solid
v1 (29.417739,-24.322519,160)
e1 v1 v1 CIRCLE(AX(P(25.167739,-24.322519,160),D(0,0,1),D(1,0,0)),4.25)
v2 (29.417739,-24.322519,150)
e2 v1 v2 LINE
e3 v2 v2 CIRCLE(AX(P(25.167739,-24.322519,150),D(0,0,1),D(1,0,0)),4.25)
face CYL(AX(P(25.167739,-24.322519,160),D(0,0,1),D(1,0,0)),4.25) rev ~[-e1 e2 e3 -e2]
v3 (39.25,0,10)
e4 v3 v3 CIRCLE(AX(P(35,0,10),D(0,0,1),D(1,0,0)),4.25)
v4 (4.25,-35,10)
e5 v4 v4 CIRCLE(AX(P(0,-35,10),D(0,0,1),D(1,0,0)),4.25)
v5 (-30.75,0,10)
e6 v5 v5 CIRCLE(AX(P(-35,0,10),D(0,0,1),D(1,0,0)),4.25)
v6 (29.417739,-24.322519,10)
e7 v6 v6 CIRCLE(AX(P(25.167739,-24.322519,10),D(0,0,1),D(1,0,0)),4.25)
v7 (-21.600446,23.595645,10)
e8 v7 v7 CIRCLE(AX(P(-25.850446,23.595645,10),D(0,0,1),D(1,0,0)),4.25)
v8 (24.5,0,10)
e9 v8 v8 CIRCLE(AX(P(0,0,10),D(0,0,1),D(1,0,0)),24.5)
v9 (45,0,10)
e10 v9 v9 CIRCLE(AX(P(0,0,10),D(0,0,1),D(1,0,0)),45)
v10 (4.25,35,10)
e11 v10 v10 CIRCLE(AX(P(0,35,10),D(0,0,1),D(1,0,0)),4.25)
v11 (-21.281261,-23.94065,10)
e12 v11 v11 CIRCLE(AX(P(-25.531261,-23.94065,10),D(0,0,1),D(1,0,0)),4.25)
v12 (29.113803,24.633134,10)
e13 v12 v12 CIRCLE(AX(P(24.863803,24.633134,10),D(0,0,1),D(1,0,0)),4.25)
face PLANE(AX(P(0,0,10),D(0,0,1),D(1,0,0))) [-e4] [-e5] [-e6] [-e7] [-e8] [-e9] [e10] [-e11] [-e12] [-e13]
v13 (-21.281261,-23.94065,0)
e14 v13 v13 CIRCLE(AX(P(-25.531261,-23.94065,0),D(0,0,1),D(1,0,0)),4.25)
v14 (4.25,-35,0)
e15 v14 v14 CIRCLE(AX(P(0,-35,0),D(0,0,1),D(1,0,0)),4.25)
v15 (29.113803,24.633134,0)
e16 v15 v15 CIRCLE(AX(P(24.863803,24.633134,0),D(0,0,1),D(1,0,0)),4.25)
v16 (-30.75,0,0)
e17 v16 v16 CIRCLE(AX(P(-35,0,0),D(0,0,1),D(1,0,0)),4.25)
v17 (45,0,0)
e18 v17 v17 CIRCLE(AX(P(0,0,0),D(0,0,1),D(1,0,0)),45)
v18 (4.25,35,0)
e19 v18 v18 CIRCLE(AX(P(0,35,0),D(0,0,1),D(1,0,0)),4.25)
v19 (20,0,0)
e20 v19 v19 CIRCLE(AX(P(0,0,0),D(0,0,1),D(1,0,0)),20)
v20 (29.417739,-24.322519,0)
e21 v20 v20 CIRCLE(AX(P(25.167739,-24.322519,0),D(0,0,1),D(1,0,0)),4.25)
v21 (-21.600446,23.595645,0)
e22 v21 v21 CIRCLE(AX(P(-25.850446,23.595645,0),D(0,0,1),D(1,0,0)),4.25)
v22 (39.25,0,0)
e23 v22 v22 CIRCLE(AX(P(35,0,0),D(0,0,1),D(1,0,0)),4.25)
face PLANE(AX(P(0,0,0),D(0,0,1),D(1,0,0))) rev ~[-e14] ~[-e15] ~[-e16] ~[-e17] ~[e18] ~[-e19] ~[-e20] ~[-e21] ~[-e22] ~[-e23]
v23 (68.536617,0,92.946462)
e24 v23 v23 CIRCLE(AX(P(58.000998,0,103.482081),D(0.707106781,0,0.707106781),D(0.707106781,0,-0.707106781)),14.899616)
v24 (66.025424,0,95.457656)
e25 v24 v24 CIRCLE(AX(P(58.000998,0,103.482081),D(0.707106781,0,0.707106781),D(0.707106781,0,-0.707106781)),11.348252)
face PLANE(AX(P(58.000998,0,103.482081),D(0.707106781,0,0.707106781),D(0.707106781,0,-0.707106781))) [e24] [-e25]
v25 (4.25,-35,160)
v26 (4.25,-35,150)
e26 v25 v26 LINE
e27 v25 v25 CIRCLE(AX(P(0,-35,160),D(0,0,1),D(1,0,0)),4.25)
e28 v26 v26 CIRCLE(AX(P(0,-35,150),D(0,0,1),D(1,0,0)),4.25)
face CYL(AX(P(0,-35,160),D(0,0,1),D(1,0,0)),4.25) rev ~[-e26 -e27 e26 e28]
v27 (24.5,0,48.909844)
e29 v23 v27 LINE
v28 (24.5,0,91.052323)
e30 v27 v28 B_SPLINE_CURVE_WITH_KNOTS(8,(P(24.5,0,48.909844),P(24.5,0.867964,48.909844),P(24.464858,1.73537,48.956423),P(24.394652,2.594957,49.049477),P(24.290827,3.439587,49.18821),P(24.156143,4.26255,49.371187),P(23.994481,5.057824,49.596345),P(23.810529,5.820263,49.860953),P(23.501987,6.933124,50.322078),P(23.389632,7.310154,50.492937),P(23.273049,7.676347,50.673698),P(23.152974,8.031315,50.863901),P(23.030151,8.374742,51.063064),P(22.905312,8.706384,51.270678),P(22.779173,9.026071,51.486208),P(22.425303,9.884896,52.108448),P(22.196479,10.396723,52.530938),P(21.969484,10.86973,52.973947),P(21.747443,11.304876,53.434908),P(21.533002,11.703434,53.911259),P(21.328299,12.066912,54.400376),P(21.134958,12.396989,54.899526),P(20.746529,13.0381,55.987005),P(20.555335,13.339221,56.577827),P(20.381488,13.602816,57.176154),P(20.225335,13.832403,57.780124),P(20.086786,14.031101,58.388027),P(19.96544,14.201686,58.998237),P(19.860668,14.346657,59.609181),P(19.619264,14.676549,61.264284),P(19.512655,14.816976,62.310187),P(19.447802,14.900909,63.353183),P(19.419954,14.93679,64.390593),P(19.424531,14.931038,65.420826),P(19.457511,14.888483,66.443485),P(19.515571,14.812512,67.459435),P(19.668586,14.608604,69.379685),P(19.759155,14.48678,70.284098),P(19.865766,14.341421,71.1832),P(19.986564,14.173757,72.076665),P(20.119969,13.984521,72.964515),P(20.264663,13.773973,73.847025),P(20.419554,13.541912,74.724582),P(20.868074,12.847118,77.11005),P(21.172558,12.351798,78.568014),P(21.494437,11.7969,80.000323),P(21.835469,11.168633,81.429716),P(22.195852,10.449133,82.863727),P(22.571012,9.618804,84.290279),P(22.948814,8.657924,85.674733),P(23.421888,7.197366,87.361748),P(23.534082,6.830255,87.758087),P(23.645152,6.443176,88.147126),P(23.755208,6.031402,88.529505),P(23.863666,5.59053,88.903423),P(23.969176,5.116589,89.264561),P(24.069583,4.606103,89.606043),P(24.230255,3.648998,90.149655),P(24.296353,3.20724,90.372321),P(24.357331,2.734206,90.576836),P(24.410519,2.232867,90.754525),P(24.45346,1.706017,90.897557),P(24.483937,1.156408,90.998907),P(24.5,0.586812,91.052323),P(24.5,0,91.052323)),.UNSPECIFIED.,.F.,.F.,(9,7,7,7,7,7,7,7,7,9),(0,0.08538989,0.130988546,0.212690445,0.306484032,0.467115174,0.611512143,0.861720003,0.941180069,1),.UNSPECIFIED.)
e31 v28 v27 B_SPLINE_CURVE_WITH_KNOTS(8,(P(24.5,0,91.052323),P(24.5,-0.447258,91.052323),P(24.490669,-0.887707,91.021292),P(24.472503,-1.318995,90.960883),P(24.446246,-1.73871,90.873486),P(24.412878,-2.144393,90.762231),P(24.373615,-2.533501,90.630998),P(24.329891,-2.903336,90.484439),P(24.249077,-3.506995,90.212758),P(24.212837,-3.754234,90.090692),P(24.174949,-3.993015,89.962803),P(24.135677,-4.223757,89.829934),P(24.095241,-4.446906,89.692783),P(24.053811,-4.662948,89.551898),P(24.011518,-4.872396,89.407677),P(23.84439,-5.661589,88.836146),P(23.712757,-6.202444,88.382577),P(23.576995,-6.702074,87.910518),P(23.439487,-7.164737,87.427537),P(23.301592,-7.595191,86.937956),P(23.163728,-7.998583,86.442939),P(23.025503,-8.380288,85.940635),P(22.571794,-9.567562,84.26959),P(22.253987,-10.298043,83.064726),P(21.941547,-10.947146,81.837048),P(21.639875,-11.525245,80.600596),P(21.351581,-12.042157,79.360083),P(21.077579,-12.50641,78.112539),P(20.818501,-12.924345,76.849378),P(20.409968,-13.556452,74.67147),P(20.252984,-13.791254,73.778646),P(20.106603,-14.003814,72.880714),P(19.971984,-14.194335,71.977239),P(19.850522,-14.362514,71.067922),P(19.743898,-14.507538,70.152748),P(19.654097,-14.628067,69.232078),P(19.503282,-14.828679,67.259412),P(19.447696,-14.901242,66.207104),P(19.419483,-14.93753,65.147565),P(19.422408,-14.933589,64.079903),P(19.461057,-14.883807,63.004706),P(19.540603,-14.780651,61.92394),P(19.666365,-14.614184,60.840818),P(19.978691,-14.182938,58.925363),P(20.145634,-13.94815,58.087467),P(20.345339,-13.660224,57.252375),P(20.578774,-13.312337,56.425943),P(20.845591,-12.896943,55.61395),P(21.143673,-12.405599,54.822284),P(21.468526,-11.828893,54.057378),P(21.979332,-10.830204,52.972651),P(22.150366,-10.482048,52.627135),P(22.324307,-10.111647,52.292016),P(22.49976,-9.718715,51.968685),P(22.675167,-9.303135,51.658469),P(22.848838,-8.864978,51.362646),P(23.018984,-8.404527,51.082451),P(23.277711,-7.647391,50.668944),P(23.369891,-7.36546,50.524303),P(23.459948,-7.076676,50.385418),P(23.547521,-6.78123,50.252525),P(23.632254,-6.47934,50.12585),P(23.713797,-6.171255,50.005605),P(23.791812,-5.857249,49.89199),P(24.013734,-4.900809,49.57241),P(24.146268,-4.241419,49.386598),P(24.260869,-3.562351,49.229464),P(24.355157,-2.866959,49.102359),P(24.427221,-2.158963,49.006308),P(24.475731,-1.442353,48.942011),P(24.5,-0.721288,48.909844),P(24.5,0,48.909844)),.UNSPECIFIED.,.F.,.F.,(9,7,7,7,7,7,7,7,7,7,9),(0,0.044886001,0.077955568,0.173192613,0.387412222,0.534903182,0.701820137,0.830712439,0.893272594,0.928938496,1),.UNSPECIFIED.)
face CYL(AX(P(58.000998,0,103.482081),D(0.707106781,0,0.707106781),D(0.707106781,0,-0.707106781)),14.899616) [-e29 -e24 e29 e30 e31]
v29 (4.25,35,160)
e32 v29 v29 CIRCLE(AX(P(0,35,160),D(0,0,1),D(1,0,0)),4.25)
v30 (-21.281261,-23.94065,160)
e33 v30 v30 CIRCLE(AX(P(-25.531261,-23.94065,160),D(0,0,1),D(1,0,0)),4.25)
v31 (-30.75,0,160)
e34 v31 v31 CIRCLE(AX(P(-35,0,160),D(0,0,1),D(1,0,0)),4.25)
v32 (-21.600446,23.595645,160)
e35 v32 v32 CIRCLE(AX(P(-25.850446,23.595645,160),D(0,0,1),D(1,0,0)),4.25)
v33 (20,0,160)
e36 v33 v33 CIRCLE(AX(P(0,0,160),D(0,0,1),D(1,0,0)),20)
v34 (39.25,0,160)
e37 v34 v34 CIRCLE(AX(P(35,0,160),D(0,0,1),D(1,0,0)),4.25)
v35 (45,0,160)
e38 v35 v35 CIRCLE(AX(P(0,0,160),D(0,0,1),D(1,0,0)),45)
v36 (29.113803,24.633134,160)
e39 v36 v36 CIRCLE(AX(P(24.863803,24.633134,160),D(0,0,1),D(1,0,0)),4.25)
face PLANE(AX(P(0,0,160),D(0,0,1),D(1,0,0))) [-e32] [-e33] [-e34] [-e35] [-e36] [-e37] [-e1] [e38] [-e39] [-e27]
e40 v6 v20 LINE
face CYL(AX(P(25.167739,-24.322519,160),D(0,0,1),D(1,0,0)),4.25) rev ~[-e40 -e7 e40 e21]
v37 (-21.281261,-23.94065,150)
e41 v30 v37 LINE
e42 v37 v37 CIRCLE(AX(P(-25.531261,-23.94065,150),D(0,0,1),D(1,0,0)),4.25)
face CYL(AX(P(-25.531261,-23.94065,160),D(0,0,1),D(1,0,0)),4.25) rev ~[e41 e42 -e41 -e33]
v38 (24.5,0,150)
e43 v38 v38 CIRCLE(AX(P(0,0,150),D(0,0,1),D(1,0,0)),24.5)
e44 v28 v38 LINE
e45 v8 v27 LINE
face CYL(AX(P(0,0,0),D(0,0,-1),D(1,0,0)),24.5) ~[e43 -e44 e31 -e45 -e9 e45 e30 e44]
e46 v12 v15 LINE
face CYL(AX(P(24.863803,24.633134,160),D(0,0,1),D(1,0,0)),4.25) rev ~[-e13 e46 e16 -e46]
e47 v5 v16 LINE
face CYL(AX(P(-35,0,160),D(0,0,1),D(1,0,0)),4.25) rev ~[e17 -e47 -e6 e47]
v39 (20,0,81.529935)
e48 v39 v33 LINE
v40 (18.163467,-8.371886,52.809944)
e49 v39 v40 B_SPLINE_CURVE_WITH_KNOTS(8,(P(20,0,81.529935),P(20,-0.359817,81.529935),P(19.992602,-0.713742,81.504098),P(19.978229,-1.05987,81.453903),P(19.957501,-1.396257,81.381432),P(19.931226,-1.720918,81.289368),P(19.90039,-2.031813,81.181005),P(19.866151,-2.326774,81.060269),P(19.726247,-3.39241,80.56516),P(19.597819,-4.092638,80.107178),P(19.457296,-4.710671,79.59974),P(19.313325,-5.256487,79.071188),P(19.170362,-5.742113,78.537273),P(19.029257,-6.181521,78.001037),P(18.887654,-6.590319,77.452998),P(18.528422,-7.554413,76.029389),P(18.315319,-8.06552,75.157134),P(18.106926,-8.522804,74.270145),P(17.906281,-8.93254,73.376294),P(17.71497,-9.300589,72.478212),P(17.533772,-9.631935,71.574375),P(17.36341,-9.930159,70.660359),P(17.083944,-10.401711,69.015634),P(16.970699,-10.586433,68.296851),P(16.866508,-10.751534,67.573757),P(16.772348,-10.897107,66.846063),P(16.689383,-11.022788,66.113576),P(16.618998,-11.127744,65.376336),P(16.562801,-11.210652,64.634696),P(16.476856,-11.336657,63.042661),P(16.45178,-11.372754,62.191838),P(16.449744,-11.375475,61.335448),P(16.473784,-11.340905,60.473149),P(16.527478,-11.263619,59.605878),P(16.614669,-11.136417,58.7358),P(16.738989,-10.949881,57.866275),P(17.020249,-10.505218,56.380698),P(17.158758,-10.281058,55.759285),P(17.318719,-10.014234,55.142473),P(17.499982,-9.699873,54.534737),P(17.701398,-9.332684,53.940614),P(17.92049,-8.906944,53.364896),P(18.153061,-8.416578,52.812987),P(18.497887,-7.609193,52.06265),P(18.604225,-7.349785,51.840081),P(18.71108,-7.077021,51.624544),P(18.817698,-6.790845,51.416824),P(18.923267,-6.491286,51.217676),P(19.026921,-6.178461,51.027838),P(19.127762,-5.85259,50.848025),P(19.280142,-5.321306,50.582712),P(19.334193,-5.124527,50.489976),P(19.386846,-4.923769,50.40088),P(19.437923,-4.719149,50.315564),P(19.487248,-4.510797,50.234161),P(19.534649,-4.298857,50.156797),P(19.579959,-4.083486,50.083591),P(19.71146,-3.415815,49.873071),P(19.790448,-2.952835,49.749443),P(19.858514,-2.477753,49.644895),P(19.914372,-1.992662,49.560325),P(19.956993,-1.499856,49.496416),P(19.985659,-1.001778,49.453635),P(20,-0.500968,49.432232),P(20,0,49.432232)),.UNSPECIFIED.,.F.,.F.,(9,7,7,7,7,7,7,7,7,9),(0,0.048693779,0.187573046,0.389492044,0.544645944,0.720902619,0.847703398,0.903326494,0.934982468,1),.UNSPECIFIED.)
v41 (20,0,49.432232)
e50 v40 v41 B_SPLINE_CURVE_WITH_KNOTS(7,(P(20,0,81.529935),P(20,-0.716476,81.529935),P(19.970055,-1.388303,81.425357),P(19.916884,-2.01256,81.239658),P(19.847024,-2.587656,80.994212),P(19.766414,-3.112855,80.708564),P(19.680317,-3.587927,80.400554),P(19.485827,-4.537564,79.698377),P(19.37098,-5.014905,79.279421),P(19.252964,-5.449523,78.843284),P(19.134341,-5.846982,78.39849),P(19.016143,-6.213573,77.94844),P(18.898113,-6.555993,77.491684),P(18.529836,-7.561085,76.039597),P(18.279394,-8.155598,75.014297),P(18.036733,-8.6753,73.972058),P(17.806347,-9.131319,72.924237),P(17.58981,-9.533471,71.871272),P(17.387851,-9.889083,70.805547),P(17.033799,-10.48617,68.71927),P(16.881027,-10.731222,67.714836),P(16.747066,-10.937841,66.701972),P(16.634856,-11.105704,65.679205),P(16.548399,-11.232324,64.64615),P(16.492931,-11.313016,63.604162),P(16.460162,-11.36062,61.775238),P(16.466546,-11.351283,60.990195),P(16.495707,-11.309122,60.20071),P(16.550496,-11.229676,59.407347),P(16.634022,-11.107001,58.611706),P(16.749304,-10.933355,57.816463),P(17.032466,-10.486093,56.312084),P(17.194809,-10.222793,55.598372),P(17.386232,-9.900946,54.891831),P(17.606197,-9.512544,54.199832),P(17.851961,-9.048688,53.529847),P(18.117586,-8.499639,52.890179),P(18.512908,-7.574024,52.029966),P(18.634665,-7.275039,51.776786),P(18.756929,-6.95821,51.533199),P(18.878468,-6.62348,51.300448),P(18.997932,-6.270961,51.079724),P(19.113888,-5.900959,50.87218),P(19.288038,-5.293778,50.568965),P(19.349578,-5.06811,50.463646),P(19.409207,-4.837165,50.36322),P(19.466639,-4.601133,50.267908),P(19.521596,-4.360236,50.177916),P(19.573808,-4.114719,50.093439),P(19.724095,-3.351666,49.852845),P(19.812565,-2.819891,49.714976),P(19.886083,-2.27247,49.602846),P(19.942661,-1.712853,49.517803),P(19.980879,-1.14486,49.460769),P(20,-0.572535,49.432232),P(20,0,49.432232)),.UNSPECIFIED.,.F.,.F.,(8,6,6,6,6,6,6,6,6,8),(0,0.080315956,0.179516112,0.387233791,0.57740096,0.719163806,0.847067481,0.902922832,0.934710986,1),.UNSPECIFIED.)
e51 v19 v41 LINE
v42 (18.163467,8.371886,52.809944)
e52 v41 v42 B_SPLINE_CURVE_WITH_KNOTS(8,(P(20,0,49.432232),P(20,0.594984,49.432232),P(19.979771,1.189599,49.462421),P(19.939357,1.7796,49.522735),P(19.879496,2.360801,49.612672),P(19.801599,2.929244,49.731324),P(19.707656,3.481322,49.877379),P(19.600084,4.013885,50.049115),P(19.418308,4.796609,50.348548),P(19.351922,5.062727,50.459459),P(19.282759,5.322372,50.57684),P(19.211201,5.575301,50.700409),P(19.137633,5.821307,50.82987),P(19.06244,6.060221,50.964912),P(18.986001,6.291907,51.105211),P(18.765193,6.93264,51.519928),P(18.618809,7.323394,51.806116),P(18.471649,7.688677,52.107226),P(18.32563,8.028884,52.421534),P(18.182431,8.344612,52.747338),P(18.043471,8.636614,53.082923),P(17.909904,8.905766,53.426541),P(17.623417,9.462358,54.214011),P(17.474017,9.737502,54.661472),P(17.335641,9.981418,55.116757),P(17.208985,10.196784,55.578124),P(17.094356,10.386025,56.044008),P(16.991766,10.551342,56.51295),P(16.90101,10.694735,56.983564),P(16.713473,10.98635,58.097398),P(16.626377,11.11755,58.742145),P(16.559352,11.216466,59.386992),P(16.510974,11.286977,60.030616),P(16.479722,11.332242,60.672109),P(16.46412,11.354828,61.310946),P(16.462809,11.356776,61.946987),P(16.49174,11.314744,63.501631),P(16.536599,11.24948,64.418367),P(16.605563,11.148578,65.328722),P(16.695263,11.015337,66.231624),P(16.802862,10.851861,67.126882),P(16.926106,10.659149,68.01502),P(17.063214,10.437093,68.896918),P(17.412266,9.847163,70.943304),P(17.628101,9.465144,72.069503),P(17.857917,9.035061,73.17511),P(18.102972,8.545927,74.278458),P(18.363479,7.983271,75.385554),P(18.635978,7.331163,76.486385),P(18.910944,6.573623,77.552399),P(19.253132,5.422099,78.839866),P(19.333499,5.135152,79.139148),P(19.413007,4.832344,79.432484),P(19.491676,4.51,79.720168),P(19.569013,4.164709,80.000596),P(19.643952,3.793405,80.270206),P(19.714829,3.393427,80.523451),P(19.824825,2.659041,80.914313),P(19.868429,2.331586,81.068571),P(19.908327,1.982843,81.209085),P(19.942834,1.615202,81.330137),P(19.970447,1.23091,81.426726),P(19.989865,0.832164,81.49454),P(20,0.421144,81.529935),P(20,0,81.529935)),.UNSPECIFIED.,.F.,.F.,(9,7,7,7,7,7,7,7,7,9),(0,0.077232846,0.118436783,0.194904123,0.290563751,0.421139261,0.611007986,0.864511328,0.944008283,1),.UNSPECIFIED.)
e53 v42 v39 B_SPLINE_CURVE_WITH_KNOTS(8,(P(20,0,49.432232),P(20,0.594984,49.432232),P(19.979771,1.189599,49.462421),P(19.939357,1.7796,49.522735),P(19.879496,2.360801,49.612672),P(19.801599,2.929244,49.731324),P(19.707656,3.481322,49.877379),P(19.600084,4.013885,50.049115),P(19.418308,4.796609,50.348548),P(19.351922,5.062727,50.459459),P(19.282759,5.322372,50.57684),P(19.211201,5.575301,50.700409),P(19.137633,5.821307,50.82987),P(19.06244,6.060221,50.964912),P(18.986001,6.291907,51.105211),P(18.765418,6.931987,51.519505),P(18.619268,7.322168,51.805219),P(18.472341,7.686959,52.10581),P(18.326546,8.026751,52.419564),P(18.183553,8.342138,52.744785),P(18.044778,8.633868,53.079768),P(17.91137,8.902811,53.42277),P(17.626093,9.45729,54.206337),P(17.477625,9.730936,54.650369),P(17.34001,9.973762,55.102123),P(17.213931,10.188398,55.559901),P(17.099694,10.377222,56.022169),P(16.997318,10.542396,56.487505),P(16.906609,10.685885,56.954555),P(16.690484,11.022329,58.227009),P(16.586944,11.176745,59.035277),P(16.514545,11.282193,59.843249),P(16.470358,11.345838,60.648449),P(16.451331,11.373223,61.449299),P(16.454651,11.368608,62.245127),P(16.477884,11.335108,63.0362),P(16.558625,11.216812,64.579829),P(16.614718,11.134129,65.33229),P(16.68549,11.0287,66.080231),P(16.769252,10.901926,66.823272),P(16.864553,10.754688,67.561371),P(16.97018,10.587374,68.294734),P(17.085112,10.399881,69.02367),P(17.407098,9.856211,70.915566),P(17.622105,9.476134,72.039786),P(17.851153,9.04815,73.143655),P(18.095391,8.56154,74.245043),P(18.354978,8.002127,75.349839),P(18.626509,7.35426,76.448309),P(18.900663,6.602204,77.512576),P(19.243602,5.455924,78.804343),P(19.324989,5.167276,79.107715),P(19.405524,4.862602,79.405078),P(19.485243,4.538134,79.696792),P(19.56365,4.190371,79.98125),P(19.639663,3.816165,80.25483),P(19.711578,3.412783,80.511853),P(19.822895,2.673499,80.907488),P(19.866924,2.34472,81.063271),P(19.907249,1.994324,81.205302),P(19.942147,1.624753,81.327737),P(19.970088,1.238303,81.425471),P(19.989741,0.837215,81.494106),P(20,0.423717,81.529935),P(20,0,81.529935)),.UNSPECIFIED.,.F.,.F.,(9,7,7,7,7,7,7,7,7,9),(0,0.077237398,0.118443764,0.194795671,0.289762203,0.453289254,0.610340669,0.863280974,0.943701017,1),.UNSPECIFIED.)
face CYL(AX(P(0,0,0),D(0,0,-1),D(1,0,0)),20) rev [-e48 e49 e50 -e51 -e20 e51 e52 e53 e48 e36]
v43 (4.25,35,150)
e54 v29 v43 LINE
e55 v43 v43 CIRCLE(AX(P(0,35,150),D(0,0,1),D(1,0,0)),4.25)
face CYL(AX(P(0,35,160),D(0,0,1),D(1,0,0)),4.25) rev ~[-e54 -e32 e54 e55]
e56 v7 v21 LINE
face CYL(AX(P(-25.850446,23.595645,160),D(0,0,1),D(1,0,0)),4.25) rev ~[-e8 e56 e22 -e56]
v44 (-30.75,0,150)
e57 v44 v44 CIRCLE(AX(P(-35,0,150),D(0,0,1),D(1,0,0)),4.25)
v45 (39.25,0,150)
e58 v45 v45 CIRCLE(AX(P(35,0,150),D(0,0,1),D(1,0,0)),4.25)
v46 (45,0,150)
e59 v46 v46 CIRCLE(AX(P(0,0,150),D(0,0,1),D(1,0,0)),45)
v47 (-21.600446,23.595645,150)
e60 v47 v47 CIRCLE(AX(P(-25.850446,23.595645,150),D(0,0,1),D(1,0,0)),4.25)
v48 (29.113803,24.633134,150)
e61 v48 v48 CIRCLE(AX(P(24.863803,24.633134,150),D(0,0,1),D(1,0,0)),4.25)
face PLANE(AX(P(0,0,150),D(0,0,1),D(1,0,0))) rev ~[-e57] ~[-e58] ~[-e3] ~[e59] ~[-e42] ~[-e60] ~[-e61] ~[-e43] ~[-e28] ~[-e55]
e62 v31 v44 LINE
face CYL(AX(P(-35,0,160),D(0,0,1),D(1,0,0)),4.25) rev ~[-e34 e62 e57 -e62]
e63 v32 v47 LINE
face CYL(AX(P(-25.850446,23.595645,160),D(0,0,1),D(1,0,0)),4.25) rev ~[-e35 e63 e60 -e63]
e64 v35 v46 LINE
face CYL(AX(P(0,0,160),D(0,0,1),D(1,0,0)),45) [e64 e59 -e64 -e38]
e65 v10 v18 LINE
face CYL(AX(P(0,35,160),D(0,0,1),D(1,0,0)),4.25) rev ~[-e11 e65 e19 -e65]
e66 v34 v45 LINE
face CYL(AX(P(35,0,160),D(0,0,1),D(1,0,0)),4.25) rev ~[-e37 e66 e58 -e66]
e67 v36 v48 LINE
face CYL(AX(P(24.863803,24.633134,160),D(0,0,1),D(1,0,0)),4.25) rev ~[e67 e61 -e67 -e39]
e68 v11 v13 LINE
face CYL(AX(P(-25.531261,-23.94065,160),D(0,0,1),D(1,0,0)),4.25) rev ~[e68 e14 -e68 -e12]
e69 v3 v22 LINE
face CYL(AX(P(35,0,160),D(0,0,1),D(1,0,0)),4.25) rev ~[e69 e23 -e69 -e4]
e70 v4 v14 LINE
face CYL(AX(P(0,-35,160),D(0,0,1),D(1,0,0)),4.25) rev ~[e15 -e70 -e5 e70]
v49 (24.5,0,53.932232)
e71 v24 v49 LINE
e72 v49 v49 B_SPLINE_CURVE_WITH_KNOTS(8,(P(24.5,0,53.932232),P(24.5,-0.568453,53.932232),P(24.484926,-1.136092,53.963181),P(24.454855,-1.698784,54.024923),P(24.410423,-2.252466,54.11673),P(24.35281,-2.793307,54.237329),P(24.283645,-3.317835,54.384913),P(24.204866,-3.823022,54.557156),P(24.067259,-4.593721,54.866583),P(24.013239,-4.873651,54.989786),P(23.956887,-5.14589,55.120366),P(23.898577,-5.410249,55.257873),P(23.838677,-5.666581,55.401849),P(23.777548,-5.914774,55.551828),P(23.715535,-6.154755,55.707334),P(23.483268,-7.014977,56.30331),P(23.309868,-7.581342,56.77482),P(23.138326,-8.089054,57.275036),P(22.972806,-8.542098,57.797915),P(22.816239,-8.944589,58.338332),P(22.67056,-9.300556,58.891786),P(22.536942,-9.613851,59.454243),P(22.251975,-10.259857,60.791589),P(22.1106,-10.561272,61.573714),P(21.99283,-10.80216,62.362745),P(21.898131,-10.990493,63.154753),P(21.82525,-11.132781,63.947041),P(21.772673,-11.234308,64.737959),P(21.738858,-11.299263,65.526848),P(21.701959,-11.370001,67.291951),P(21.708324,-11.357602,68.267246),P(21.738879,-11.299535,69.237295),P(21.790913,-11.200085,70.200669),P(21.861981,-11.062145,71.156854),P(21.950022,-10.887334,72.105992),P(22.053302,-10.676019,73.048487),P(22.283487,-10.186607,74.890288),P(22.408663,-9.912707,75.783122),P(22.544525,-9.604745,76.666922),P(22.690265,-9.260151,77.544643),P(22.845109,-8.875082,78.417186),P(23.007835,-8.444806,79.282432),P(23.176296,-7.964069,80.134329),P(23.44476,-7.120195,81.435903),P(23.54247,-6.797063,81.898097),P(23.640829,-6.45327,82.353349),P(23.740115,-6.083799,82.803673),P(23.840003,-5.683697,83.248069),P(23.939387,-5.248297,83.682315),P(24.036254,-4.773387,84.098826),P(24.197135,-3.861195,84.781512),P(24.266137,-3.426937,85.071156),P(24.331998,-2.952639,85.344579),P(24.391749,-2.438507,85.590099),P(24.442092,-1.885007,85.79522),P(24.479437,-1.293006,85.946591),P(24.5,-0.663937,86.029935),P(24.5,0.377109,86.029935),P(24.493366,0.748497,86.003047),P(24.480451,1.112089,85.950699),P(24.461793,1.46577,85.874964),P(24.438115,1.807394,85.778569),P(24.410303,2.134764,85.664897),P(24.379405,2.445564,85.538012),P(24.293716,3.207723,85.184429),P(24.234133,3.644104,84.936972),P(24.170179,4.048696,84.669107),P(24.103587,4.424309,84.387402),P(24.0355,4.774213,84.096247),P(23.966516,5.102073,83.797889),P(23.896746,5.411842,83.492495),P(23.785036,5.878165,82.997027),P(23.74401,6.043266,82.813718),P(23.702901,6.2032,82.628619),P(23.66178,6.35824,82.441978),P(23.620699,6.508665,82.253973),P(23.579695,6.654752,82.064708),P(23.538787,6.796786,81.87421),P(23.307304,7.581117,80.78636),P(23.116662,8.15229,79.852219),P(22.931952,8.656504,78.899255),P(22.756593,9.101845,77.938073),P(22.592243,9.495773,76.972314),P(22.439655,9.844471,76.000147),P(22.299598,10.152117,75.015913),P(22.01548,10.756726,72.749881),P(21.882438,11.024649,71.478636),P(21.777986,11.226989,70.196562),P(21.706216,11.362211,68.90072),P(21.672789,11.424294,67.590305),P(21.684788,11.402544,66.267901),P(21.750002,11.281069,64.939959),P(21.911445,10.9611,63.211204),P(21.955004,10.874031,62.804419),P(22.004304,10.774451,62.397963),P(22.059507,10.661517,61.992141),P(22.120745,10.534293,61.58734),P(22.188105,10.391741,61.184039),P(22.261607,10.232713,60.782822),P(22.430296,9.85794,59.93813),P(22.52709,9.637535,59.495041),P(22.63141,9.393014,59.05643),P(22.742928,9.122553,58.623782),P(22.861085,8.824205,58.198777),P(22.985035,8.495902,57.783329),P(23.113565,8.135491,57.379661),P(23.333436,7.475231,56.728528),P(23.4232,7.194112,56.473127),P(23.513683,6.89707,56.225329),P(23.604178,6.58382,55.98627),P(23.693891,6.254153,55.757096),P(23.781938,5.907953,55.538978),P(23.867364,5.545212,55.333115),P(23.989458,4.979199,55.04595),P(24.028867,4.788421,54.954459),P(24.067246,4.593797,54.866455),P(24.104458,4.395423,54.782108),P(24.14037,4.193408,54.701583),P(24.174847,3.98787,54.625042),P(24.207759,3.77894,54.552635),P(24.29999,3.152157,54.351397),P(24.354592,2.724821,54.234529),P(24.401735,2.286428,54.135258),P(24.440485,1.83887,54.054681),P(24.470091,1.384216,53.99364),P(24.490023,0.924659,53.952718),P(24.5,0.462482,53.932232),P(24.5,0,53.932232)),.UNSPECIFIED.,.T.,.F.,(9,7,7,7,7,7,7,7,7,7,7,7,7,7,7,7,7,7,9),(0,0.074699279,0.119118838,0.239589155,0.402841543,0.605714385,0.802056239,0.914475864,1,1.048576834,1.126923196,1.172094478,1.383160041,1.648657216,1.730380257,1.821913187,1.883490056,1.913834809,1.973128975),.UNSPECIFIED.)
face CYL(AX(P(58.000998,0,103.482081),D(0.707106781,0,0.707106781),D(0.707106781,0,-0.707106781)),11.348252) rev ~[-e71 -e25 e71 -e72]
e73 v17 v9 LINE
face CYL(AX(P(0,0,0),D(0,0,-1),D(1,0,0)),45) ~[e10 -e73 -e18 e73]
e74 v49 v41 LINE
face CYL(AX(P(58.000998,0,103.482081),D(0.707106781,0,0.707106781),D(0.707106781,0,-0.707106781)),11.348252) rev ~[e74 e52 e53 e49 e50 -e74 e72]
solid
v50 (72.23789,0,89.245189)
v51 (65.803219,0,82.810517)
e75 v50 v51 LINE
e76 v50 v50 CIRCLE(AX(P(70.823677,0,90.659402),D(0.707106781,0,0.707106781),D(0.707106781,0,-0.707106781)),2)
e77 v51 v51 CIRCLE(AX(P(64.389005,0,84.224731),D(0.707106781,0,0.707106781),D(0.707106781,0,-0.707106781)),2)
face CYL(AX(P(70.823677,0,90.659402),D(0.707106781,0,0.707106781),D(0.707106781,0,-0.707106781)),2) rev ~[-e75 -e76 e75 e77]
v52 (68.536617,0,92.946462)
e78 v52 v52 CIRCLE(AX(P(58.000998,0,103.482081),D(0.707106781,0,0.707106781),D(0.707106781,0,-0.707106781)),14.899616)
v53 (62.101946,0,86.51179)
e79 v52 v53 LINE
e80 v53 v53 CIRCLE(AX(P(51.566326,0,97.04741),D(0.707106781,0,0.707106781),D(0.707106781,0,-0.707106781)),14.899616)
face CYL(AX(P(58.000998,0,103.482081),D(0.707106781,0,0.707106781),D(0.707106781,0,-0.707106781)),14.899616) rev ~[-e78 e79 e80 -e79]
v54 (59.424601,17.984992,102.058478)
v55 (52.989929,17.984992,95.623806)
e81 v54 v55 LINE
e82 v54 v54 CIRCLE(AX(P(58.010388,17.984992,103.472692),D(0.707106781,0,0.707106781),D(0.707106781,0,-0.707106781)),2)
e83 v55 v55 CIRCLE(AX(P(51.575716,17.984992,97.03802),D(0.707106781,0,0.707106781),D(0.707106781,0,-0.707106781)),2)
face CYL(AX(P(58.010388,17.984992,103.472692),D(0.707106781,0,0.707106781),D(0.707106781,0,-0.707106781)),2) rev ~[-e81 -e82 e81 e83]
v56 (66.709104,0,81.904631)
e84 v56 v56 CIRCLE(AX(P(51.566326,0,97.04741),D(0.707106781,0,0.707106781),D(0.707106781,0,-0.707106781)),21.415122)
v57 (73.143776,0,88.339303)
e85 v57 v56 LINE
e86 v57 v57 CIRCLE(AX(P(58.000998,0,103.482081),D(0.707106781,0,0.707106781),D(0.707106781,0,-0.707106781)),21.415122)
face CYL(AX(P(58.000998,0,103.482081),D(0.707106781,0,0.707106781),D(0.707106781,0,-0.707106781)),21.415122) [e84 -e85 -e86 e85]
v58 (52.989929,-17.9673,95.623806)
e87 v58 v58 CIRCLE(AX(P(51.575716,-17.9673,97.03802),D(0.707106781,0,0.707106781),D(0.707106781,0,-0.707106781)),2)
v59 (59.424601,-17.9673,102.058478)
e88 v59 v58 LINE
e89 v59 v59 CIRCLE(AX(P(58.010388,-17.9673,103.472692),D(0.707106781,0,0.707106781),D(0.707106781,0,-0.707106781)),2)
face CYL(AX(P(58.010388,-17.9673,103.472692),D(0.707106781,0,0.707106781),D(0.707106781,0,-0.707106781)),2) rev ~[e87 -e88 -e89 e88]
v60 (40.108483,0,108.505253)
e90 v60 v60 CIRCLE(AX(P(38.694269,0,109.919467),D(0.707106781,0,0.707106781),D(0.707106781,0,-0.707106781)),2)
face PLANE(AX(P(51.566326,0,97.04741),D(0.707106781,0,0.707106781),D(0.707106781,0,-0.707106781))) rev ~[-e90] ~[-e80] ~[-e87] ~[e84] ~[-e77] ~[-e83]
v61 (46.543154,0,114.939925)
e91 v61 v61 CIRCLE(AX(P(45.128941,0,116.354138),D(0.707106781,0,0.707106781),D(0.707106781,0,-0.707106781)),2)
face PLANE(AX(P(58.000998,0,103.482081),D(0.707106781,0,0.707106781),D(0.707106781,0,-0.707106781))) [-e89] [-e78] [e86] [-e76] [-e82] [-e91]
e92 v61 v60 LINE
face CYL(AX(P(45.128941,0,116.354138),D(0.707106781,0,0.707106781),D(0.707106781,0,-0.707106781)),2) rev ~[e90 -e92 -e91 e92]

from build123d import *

# Parameters (mm, degrees)
F0_R      = 45
F0_R_2    = 24.5
F1_DEPTH  = 10
F0_R_3    = 20
F2_DEPTH  = 160
F3_R      = 45
F3_R_2    = 24.5
F4_DEPTH  = 10
F5_R      = 4.25
F6_DEPTH  = 177
F8_DEPTH  = 3.4
F9_R      = 14.8996161184
F9_R_2    = 11.3482516677
F10_DEPTH = 64
F9_W      = 20
F9_H      = 6.8
F11_DEPTH = 76.1
F9_R_3    = 21.4151224279
F12_DEPTH = 9.1
F13_R     = 2
F14_DEPTH = 25
F15_R     = 20
F16_DEPTH = 171


with BuildPart() as f1:
    # F0 (on Top) → F1 (new body)
    with BuildSketch(Plane.XY):
        Circle(F0_R)
        Circle(F0_R_2, mode=Mode.SUBTRACT)
    extrude(amount=F1_DEPTH)

    # F0 (on Top) → F2 (join)
    with BuildSketch(Plane.XY):
        Circle(F0_R_2)
        Circle(F0_R_3, mode=Mode.SUBTRACT)
    extrude(amount=F2_DEPTH)

    # F3 (on face) → F4 (join)
    with BuildSketch(Plane.XY.offset(160)):
        Circle(F3_R)
        Circle(F3_R_2, mode=Mode.SUBTRACT)
    extrude(amount=-F4_DEPTH)

    # F5 (on face) → F6 (cut)
    with BuildSketch(Plane.XY.offset(160)):
        with Locations((-25.8504459759, 23.5956445736)):
            Circle(F5_R)
        with Locations((0, 35)):
            Circle(F5_R)
        with Locations((-35, 0)):
            Circle(F5_R)
        with Locations((-25.5312608953, -23.9406498887)):
            Circle(F5_R)
        with Locations((0, -35)):
            Circle(F5_R)
        with Locations((25.1677391227, -24.3225185261)):
            Circle(F5_R)
        with Locations((35, 0)):
            Circle(F5_R)
        with Locations((24.8638034377, 24.6331337554)):
            Circle(F5_R)
    extrude(amount=-F6_DEPTH, mode=Mode.SUBTRACT)

    # F7 (on Front) → F8 (join, symmetric)
    with BuildSketch(Plane.XZ):
        Polygon((22.8907327835, 82.5139518563), (18.8501677475, 78.4733868203), (18.8501677475, 50.1891155728), (65.0720656848, 96.4110135102), (50.9299300611, 110.5531491339), align=None)
    extrude(amount=F8_DEPTH, both=True)

    # F9 (on face) → F10 (join)
    with BuildSketch(Plane(origin=(80.7415395975, 0, 80.7415395975), x_dir=(0.7071067812, 0, -0.7071067812), z_dir=(0.7071067812, 0, 0.7071067812))):
        with Locations((-32.1599825226, 0)):
            Circle(F9_R)
        with Locations((-32.1599825226, 0)):
            Circle(F9_R_2, mode=Mode.SUBTRACT)
    extrude(amount=-F10_DEPTH)

    # F9 (on face) → F11 (cut)
    with BuildSketch(Plane(origin=(80.7415395975, 0, 80.7415395975), x_dir=(0.7071067812, 0, -0.7071067812), z_dir=(0.7071067812, 0, 0.7071067812))):
        with Locations((-32.1599825226, 0)):
            Circle(F9_R_2)
        with Locations((-32.1599825226, 0)):
            Rectangle(F9_W, F9_H, mode=Mode.SUBTRACT)
        with Locations((-32.1599825226, 0)):
            Rectangle(F9_W, F9_H)
    extrude(amount=-F11_DEPTH, mode=Mode.SUBTRACT)

    # F15 (on Top) → F16 (cut)
    with BuildSketch(Plane.XY):
        Circle(F15_R)
    extrude(amount=F16_DEPTH, mode=Mode.SUBTRACT)


with BuildPart() as f12:
    # F9 (on face) → F12 (new body)
    with BuildSketch(Plane(origin=(80.7415395975, 0, 80.7415395975), x_dir=(0.7071067812, 0, -0.7071067812), z_dir=(0.7071067812, 0, 0.7071067812))):
        with Locations((-32.1599825226, 0)):
            Circle(F9_R_3)
        with Locations((-32.1599825226, 0)):
            Circle(F9_R, mode=Mode.SUBTRACT)
    extrude(amount=-F12_DEPTH)

    # F13 (on face) → F14 (cut)
    with BuildSketch(Plane(origin=(80.7415395975, 0, 80.7415395975), x_dir=(0.7071067812, 0, -0.7071067812), z_dir=(0.7071067812, 0, 0.7071067812))):
        with Locations((-32.1467034519, 17.9849918932)):
            Circle(F13_R)
        with Locations((-50.3638200462, 0)):
            Circle(F13_R)
        with Locations((-32.1467034519, -17.9673004895)):
            Circle(F13_R)
        with Locations((-14.0259759501, 0)):
            Circle(F13_R)
    extrude(amount=-F14_DEPTH, mode=Mode.SUBTRACT)


solid = Compound([f1.part, f12.part])
